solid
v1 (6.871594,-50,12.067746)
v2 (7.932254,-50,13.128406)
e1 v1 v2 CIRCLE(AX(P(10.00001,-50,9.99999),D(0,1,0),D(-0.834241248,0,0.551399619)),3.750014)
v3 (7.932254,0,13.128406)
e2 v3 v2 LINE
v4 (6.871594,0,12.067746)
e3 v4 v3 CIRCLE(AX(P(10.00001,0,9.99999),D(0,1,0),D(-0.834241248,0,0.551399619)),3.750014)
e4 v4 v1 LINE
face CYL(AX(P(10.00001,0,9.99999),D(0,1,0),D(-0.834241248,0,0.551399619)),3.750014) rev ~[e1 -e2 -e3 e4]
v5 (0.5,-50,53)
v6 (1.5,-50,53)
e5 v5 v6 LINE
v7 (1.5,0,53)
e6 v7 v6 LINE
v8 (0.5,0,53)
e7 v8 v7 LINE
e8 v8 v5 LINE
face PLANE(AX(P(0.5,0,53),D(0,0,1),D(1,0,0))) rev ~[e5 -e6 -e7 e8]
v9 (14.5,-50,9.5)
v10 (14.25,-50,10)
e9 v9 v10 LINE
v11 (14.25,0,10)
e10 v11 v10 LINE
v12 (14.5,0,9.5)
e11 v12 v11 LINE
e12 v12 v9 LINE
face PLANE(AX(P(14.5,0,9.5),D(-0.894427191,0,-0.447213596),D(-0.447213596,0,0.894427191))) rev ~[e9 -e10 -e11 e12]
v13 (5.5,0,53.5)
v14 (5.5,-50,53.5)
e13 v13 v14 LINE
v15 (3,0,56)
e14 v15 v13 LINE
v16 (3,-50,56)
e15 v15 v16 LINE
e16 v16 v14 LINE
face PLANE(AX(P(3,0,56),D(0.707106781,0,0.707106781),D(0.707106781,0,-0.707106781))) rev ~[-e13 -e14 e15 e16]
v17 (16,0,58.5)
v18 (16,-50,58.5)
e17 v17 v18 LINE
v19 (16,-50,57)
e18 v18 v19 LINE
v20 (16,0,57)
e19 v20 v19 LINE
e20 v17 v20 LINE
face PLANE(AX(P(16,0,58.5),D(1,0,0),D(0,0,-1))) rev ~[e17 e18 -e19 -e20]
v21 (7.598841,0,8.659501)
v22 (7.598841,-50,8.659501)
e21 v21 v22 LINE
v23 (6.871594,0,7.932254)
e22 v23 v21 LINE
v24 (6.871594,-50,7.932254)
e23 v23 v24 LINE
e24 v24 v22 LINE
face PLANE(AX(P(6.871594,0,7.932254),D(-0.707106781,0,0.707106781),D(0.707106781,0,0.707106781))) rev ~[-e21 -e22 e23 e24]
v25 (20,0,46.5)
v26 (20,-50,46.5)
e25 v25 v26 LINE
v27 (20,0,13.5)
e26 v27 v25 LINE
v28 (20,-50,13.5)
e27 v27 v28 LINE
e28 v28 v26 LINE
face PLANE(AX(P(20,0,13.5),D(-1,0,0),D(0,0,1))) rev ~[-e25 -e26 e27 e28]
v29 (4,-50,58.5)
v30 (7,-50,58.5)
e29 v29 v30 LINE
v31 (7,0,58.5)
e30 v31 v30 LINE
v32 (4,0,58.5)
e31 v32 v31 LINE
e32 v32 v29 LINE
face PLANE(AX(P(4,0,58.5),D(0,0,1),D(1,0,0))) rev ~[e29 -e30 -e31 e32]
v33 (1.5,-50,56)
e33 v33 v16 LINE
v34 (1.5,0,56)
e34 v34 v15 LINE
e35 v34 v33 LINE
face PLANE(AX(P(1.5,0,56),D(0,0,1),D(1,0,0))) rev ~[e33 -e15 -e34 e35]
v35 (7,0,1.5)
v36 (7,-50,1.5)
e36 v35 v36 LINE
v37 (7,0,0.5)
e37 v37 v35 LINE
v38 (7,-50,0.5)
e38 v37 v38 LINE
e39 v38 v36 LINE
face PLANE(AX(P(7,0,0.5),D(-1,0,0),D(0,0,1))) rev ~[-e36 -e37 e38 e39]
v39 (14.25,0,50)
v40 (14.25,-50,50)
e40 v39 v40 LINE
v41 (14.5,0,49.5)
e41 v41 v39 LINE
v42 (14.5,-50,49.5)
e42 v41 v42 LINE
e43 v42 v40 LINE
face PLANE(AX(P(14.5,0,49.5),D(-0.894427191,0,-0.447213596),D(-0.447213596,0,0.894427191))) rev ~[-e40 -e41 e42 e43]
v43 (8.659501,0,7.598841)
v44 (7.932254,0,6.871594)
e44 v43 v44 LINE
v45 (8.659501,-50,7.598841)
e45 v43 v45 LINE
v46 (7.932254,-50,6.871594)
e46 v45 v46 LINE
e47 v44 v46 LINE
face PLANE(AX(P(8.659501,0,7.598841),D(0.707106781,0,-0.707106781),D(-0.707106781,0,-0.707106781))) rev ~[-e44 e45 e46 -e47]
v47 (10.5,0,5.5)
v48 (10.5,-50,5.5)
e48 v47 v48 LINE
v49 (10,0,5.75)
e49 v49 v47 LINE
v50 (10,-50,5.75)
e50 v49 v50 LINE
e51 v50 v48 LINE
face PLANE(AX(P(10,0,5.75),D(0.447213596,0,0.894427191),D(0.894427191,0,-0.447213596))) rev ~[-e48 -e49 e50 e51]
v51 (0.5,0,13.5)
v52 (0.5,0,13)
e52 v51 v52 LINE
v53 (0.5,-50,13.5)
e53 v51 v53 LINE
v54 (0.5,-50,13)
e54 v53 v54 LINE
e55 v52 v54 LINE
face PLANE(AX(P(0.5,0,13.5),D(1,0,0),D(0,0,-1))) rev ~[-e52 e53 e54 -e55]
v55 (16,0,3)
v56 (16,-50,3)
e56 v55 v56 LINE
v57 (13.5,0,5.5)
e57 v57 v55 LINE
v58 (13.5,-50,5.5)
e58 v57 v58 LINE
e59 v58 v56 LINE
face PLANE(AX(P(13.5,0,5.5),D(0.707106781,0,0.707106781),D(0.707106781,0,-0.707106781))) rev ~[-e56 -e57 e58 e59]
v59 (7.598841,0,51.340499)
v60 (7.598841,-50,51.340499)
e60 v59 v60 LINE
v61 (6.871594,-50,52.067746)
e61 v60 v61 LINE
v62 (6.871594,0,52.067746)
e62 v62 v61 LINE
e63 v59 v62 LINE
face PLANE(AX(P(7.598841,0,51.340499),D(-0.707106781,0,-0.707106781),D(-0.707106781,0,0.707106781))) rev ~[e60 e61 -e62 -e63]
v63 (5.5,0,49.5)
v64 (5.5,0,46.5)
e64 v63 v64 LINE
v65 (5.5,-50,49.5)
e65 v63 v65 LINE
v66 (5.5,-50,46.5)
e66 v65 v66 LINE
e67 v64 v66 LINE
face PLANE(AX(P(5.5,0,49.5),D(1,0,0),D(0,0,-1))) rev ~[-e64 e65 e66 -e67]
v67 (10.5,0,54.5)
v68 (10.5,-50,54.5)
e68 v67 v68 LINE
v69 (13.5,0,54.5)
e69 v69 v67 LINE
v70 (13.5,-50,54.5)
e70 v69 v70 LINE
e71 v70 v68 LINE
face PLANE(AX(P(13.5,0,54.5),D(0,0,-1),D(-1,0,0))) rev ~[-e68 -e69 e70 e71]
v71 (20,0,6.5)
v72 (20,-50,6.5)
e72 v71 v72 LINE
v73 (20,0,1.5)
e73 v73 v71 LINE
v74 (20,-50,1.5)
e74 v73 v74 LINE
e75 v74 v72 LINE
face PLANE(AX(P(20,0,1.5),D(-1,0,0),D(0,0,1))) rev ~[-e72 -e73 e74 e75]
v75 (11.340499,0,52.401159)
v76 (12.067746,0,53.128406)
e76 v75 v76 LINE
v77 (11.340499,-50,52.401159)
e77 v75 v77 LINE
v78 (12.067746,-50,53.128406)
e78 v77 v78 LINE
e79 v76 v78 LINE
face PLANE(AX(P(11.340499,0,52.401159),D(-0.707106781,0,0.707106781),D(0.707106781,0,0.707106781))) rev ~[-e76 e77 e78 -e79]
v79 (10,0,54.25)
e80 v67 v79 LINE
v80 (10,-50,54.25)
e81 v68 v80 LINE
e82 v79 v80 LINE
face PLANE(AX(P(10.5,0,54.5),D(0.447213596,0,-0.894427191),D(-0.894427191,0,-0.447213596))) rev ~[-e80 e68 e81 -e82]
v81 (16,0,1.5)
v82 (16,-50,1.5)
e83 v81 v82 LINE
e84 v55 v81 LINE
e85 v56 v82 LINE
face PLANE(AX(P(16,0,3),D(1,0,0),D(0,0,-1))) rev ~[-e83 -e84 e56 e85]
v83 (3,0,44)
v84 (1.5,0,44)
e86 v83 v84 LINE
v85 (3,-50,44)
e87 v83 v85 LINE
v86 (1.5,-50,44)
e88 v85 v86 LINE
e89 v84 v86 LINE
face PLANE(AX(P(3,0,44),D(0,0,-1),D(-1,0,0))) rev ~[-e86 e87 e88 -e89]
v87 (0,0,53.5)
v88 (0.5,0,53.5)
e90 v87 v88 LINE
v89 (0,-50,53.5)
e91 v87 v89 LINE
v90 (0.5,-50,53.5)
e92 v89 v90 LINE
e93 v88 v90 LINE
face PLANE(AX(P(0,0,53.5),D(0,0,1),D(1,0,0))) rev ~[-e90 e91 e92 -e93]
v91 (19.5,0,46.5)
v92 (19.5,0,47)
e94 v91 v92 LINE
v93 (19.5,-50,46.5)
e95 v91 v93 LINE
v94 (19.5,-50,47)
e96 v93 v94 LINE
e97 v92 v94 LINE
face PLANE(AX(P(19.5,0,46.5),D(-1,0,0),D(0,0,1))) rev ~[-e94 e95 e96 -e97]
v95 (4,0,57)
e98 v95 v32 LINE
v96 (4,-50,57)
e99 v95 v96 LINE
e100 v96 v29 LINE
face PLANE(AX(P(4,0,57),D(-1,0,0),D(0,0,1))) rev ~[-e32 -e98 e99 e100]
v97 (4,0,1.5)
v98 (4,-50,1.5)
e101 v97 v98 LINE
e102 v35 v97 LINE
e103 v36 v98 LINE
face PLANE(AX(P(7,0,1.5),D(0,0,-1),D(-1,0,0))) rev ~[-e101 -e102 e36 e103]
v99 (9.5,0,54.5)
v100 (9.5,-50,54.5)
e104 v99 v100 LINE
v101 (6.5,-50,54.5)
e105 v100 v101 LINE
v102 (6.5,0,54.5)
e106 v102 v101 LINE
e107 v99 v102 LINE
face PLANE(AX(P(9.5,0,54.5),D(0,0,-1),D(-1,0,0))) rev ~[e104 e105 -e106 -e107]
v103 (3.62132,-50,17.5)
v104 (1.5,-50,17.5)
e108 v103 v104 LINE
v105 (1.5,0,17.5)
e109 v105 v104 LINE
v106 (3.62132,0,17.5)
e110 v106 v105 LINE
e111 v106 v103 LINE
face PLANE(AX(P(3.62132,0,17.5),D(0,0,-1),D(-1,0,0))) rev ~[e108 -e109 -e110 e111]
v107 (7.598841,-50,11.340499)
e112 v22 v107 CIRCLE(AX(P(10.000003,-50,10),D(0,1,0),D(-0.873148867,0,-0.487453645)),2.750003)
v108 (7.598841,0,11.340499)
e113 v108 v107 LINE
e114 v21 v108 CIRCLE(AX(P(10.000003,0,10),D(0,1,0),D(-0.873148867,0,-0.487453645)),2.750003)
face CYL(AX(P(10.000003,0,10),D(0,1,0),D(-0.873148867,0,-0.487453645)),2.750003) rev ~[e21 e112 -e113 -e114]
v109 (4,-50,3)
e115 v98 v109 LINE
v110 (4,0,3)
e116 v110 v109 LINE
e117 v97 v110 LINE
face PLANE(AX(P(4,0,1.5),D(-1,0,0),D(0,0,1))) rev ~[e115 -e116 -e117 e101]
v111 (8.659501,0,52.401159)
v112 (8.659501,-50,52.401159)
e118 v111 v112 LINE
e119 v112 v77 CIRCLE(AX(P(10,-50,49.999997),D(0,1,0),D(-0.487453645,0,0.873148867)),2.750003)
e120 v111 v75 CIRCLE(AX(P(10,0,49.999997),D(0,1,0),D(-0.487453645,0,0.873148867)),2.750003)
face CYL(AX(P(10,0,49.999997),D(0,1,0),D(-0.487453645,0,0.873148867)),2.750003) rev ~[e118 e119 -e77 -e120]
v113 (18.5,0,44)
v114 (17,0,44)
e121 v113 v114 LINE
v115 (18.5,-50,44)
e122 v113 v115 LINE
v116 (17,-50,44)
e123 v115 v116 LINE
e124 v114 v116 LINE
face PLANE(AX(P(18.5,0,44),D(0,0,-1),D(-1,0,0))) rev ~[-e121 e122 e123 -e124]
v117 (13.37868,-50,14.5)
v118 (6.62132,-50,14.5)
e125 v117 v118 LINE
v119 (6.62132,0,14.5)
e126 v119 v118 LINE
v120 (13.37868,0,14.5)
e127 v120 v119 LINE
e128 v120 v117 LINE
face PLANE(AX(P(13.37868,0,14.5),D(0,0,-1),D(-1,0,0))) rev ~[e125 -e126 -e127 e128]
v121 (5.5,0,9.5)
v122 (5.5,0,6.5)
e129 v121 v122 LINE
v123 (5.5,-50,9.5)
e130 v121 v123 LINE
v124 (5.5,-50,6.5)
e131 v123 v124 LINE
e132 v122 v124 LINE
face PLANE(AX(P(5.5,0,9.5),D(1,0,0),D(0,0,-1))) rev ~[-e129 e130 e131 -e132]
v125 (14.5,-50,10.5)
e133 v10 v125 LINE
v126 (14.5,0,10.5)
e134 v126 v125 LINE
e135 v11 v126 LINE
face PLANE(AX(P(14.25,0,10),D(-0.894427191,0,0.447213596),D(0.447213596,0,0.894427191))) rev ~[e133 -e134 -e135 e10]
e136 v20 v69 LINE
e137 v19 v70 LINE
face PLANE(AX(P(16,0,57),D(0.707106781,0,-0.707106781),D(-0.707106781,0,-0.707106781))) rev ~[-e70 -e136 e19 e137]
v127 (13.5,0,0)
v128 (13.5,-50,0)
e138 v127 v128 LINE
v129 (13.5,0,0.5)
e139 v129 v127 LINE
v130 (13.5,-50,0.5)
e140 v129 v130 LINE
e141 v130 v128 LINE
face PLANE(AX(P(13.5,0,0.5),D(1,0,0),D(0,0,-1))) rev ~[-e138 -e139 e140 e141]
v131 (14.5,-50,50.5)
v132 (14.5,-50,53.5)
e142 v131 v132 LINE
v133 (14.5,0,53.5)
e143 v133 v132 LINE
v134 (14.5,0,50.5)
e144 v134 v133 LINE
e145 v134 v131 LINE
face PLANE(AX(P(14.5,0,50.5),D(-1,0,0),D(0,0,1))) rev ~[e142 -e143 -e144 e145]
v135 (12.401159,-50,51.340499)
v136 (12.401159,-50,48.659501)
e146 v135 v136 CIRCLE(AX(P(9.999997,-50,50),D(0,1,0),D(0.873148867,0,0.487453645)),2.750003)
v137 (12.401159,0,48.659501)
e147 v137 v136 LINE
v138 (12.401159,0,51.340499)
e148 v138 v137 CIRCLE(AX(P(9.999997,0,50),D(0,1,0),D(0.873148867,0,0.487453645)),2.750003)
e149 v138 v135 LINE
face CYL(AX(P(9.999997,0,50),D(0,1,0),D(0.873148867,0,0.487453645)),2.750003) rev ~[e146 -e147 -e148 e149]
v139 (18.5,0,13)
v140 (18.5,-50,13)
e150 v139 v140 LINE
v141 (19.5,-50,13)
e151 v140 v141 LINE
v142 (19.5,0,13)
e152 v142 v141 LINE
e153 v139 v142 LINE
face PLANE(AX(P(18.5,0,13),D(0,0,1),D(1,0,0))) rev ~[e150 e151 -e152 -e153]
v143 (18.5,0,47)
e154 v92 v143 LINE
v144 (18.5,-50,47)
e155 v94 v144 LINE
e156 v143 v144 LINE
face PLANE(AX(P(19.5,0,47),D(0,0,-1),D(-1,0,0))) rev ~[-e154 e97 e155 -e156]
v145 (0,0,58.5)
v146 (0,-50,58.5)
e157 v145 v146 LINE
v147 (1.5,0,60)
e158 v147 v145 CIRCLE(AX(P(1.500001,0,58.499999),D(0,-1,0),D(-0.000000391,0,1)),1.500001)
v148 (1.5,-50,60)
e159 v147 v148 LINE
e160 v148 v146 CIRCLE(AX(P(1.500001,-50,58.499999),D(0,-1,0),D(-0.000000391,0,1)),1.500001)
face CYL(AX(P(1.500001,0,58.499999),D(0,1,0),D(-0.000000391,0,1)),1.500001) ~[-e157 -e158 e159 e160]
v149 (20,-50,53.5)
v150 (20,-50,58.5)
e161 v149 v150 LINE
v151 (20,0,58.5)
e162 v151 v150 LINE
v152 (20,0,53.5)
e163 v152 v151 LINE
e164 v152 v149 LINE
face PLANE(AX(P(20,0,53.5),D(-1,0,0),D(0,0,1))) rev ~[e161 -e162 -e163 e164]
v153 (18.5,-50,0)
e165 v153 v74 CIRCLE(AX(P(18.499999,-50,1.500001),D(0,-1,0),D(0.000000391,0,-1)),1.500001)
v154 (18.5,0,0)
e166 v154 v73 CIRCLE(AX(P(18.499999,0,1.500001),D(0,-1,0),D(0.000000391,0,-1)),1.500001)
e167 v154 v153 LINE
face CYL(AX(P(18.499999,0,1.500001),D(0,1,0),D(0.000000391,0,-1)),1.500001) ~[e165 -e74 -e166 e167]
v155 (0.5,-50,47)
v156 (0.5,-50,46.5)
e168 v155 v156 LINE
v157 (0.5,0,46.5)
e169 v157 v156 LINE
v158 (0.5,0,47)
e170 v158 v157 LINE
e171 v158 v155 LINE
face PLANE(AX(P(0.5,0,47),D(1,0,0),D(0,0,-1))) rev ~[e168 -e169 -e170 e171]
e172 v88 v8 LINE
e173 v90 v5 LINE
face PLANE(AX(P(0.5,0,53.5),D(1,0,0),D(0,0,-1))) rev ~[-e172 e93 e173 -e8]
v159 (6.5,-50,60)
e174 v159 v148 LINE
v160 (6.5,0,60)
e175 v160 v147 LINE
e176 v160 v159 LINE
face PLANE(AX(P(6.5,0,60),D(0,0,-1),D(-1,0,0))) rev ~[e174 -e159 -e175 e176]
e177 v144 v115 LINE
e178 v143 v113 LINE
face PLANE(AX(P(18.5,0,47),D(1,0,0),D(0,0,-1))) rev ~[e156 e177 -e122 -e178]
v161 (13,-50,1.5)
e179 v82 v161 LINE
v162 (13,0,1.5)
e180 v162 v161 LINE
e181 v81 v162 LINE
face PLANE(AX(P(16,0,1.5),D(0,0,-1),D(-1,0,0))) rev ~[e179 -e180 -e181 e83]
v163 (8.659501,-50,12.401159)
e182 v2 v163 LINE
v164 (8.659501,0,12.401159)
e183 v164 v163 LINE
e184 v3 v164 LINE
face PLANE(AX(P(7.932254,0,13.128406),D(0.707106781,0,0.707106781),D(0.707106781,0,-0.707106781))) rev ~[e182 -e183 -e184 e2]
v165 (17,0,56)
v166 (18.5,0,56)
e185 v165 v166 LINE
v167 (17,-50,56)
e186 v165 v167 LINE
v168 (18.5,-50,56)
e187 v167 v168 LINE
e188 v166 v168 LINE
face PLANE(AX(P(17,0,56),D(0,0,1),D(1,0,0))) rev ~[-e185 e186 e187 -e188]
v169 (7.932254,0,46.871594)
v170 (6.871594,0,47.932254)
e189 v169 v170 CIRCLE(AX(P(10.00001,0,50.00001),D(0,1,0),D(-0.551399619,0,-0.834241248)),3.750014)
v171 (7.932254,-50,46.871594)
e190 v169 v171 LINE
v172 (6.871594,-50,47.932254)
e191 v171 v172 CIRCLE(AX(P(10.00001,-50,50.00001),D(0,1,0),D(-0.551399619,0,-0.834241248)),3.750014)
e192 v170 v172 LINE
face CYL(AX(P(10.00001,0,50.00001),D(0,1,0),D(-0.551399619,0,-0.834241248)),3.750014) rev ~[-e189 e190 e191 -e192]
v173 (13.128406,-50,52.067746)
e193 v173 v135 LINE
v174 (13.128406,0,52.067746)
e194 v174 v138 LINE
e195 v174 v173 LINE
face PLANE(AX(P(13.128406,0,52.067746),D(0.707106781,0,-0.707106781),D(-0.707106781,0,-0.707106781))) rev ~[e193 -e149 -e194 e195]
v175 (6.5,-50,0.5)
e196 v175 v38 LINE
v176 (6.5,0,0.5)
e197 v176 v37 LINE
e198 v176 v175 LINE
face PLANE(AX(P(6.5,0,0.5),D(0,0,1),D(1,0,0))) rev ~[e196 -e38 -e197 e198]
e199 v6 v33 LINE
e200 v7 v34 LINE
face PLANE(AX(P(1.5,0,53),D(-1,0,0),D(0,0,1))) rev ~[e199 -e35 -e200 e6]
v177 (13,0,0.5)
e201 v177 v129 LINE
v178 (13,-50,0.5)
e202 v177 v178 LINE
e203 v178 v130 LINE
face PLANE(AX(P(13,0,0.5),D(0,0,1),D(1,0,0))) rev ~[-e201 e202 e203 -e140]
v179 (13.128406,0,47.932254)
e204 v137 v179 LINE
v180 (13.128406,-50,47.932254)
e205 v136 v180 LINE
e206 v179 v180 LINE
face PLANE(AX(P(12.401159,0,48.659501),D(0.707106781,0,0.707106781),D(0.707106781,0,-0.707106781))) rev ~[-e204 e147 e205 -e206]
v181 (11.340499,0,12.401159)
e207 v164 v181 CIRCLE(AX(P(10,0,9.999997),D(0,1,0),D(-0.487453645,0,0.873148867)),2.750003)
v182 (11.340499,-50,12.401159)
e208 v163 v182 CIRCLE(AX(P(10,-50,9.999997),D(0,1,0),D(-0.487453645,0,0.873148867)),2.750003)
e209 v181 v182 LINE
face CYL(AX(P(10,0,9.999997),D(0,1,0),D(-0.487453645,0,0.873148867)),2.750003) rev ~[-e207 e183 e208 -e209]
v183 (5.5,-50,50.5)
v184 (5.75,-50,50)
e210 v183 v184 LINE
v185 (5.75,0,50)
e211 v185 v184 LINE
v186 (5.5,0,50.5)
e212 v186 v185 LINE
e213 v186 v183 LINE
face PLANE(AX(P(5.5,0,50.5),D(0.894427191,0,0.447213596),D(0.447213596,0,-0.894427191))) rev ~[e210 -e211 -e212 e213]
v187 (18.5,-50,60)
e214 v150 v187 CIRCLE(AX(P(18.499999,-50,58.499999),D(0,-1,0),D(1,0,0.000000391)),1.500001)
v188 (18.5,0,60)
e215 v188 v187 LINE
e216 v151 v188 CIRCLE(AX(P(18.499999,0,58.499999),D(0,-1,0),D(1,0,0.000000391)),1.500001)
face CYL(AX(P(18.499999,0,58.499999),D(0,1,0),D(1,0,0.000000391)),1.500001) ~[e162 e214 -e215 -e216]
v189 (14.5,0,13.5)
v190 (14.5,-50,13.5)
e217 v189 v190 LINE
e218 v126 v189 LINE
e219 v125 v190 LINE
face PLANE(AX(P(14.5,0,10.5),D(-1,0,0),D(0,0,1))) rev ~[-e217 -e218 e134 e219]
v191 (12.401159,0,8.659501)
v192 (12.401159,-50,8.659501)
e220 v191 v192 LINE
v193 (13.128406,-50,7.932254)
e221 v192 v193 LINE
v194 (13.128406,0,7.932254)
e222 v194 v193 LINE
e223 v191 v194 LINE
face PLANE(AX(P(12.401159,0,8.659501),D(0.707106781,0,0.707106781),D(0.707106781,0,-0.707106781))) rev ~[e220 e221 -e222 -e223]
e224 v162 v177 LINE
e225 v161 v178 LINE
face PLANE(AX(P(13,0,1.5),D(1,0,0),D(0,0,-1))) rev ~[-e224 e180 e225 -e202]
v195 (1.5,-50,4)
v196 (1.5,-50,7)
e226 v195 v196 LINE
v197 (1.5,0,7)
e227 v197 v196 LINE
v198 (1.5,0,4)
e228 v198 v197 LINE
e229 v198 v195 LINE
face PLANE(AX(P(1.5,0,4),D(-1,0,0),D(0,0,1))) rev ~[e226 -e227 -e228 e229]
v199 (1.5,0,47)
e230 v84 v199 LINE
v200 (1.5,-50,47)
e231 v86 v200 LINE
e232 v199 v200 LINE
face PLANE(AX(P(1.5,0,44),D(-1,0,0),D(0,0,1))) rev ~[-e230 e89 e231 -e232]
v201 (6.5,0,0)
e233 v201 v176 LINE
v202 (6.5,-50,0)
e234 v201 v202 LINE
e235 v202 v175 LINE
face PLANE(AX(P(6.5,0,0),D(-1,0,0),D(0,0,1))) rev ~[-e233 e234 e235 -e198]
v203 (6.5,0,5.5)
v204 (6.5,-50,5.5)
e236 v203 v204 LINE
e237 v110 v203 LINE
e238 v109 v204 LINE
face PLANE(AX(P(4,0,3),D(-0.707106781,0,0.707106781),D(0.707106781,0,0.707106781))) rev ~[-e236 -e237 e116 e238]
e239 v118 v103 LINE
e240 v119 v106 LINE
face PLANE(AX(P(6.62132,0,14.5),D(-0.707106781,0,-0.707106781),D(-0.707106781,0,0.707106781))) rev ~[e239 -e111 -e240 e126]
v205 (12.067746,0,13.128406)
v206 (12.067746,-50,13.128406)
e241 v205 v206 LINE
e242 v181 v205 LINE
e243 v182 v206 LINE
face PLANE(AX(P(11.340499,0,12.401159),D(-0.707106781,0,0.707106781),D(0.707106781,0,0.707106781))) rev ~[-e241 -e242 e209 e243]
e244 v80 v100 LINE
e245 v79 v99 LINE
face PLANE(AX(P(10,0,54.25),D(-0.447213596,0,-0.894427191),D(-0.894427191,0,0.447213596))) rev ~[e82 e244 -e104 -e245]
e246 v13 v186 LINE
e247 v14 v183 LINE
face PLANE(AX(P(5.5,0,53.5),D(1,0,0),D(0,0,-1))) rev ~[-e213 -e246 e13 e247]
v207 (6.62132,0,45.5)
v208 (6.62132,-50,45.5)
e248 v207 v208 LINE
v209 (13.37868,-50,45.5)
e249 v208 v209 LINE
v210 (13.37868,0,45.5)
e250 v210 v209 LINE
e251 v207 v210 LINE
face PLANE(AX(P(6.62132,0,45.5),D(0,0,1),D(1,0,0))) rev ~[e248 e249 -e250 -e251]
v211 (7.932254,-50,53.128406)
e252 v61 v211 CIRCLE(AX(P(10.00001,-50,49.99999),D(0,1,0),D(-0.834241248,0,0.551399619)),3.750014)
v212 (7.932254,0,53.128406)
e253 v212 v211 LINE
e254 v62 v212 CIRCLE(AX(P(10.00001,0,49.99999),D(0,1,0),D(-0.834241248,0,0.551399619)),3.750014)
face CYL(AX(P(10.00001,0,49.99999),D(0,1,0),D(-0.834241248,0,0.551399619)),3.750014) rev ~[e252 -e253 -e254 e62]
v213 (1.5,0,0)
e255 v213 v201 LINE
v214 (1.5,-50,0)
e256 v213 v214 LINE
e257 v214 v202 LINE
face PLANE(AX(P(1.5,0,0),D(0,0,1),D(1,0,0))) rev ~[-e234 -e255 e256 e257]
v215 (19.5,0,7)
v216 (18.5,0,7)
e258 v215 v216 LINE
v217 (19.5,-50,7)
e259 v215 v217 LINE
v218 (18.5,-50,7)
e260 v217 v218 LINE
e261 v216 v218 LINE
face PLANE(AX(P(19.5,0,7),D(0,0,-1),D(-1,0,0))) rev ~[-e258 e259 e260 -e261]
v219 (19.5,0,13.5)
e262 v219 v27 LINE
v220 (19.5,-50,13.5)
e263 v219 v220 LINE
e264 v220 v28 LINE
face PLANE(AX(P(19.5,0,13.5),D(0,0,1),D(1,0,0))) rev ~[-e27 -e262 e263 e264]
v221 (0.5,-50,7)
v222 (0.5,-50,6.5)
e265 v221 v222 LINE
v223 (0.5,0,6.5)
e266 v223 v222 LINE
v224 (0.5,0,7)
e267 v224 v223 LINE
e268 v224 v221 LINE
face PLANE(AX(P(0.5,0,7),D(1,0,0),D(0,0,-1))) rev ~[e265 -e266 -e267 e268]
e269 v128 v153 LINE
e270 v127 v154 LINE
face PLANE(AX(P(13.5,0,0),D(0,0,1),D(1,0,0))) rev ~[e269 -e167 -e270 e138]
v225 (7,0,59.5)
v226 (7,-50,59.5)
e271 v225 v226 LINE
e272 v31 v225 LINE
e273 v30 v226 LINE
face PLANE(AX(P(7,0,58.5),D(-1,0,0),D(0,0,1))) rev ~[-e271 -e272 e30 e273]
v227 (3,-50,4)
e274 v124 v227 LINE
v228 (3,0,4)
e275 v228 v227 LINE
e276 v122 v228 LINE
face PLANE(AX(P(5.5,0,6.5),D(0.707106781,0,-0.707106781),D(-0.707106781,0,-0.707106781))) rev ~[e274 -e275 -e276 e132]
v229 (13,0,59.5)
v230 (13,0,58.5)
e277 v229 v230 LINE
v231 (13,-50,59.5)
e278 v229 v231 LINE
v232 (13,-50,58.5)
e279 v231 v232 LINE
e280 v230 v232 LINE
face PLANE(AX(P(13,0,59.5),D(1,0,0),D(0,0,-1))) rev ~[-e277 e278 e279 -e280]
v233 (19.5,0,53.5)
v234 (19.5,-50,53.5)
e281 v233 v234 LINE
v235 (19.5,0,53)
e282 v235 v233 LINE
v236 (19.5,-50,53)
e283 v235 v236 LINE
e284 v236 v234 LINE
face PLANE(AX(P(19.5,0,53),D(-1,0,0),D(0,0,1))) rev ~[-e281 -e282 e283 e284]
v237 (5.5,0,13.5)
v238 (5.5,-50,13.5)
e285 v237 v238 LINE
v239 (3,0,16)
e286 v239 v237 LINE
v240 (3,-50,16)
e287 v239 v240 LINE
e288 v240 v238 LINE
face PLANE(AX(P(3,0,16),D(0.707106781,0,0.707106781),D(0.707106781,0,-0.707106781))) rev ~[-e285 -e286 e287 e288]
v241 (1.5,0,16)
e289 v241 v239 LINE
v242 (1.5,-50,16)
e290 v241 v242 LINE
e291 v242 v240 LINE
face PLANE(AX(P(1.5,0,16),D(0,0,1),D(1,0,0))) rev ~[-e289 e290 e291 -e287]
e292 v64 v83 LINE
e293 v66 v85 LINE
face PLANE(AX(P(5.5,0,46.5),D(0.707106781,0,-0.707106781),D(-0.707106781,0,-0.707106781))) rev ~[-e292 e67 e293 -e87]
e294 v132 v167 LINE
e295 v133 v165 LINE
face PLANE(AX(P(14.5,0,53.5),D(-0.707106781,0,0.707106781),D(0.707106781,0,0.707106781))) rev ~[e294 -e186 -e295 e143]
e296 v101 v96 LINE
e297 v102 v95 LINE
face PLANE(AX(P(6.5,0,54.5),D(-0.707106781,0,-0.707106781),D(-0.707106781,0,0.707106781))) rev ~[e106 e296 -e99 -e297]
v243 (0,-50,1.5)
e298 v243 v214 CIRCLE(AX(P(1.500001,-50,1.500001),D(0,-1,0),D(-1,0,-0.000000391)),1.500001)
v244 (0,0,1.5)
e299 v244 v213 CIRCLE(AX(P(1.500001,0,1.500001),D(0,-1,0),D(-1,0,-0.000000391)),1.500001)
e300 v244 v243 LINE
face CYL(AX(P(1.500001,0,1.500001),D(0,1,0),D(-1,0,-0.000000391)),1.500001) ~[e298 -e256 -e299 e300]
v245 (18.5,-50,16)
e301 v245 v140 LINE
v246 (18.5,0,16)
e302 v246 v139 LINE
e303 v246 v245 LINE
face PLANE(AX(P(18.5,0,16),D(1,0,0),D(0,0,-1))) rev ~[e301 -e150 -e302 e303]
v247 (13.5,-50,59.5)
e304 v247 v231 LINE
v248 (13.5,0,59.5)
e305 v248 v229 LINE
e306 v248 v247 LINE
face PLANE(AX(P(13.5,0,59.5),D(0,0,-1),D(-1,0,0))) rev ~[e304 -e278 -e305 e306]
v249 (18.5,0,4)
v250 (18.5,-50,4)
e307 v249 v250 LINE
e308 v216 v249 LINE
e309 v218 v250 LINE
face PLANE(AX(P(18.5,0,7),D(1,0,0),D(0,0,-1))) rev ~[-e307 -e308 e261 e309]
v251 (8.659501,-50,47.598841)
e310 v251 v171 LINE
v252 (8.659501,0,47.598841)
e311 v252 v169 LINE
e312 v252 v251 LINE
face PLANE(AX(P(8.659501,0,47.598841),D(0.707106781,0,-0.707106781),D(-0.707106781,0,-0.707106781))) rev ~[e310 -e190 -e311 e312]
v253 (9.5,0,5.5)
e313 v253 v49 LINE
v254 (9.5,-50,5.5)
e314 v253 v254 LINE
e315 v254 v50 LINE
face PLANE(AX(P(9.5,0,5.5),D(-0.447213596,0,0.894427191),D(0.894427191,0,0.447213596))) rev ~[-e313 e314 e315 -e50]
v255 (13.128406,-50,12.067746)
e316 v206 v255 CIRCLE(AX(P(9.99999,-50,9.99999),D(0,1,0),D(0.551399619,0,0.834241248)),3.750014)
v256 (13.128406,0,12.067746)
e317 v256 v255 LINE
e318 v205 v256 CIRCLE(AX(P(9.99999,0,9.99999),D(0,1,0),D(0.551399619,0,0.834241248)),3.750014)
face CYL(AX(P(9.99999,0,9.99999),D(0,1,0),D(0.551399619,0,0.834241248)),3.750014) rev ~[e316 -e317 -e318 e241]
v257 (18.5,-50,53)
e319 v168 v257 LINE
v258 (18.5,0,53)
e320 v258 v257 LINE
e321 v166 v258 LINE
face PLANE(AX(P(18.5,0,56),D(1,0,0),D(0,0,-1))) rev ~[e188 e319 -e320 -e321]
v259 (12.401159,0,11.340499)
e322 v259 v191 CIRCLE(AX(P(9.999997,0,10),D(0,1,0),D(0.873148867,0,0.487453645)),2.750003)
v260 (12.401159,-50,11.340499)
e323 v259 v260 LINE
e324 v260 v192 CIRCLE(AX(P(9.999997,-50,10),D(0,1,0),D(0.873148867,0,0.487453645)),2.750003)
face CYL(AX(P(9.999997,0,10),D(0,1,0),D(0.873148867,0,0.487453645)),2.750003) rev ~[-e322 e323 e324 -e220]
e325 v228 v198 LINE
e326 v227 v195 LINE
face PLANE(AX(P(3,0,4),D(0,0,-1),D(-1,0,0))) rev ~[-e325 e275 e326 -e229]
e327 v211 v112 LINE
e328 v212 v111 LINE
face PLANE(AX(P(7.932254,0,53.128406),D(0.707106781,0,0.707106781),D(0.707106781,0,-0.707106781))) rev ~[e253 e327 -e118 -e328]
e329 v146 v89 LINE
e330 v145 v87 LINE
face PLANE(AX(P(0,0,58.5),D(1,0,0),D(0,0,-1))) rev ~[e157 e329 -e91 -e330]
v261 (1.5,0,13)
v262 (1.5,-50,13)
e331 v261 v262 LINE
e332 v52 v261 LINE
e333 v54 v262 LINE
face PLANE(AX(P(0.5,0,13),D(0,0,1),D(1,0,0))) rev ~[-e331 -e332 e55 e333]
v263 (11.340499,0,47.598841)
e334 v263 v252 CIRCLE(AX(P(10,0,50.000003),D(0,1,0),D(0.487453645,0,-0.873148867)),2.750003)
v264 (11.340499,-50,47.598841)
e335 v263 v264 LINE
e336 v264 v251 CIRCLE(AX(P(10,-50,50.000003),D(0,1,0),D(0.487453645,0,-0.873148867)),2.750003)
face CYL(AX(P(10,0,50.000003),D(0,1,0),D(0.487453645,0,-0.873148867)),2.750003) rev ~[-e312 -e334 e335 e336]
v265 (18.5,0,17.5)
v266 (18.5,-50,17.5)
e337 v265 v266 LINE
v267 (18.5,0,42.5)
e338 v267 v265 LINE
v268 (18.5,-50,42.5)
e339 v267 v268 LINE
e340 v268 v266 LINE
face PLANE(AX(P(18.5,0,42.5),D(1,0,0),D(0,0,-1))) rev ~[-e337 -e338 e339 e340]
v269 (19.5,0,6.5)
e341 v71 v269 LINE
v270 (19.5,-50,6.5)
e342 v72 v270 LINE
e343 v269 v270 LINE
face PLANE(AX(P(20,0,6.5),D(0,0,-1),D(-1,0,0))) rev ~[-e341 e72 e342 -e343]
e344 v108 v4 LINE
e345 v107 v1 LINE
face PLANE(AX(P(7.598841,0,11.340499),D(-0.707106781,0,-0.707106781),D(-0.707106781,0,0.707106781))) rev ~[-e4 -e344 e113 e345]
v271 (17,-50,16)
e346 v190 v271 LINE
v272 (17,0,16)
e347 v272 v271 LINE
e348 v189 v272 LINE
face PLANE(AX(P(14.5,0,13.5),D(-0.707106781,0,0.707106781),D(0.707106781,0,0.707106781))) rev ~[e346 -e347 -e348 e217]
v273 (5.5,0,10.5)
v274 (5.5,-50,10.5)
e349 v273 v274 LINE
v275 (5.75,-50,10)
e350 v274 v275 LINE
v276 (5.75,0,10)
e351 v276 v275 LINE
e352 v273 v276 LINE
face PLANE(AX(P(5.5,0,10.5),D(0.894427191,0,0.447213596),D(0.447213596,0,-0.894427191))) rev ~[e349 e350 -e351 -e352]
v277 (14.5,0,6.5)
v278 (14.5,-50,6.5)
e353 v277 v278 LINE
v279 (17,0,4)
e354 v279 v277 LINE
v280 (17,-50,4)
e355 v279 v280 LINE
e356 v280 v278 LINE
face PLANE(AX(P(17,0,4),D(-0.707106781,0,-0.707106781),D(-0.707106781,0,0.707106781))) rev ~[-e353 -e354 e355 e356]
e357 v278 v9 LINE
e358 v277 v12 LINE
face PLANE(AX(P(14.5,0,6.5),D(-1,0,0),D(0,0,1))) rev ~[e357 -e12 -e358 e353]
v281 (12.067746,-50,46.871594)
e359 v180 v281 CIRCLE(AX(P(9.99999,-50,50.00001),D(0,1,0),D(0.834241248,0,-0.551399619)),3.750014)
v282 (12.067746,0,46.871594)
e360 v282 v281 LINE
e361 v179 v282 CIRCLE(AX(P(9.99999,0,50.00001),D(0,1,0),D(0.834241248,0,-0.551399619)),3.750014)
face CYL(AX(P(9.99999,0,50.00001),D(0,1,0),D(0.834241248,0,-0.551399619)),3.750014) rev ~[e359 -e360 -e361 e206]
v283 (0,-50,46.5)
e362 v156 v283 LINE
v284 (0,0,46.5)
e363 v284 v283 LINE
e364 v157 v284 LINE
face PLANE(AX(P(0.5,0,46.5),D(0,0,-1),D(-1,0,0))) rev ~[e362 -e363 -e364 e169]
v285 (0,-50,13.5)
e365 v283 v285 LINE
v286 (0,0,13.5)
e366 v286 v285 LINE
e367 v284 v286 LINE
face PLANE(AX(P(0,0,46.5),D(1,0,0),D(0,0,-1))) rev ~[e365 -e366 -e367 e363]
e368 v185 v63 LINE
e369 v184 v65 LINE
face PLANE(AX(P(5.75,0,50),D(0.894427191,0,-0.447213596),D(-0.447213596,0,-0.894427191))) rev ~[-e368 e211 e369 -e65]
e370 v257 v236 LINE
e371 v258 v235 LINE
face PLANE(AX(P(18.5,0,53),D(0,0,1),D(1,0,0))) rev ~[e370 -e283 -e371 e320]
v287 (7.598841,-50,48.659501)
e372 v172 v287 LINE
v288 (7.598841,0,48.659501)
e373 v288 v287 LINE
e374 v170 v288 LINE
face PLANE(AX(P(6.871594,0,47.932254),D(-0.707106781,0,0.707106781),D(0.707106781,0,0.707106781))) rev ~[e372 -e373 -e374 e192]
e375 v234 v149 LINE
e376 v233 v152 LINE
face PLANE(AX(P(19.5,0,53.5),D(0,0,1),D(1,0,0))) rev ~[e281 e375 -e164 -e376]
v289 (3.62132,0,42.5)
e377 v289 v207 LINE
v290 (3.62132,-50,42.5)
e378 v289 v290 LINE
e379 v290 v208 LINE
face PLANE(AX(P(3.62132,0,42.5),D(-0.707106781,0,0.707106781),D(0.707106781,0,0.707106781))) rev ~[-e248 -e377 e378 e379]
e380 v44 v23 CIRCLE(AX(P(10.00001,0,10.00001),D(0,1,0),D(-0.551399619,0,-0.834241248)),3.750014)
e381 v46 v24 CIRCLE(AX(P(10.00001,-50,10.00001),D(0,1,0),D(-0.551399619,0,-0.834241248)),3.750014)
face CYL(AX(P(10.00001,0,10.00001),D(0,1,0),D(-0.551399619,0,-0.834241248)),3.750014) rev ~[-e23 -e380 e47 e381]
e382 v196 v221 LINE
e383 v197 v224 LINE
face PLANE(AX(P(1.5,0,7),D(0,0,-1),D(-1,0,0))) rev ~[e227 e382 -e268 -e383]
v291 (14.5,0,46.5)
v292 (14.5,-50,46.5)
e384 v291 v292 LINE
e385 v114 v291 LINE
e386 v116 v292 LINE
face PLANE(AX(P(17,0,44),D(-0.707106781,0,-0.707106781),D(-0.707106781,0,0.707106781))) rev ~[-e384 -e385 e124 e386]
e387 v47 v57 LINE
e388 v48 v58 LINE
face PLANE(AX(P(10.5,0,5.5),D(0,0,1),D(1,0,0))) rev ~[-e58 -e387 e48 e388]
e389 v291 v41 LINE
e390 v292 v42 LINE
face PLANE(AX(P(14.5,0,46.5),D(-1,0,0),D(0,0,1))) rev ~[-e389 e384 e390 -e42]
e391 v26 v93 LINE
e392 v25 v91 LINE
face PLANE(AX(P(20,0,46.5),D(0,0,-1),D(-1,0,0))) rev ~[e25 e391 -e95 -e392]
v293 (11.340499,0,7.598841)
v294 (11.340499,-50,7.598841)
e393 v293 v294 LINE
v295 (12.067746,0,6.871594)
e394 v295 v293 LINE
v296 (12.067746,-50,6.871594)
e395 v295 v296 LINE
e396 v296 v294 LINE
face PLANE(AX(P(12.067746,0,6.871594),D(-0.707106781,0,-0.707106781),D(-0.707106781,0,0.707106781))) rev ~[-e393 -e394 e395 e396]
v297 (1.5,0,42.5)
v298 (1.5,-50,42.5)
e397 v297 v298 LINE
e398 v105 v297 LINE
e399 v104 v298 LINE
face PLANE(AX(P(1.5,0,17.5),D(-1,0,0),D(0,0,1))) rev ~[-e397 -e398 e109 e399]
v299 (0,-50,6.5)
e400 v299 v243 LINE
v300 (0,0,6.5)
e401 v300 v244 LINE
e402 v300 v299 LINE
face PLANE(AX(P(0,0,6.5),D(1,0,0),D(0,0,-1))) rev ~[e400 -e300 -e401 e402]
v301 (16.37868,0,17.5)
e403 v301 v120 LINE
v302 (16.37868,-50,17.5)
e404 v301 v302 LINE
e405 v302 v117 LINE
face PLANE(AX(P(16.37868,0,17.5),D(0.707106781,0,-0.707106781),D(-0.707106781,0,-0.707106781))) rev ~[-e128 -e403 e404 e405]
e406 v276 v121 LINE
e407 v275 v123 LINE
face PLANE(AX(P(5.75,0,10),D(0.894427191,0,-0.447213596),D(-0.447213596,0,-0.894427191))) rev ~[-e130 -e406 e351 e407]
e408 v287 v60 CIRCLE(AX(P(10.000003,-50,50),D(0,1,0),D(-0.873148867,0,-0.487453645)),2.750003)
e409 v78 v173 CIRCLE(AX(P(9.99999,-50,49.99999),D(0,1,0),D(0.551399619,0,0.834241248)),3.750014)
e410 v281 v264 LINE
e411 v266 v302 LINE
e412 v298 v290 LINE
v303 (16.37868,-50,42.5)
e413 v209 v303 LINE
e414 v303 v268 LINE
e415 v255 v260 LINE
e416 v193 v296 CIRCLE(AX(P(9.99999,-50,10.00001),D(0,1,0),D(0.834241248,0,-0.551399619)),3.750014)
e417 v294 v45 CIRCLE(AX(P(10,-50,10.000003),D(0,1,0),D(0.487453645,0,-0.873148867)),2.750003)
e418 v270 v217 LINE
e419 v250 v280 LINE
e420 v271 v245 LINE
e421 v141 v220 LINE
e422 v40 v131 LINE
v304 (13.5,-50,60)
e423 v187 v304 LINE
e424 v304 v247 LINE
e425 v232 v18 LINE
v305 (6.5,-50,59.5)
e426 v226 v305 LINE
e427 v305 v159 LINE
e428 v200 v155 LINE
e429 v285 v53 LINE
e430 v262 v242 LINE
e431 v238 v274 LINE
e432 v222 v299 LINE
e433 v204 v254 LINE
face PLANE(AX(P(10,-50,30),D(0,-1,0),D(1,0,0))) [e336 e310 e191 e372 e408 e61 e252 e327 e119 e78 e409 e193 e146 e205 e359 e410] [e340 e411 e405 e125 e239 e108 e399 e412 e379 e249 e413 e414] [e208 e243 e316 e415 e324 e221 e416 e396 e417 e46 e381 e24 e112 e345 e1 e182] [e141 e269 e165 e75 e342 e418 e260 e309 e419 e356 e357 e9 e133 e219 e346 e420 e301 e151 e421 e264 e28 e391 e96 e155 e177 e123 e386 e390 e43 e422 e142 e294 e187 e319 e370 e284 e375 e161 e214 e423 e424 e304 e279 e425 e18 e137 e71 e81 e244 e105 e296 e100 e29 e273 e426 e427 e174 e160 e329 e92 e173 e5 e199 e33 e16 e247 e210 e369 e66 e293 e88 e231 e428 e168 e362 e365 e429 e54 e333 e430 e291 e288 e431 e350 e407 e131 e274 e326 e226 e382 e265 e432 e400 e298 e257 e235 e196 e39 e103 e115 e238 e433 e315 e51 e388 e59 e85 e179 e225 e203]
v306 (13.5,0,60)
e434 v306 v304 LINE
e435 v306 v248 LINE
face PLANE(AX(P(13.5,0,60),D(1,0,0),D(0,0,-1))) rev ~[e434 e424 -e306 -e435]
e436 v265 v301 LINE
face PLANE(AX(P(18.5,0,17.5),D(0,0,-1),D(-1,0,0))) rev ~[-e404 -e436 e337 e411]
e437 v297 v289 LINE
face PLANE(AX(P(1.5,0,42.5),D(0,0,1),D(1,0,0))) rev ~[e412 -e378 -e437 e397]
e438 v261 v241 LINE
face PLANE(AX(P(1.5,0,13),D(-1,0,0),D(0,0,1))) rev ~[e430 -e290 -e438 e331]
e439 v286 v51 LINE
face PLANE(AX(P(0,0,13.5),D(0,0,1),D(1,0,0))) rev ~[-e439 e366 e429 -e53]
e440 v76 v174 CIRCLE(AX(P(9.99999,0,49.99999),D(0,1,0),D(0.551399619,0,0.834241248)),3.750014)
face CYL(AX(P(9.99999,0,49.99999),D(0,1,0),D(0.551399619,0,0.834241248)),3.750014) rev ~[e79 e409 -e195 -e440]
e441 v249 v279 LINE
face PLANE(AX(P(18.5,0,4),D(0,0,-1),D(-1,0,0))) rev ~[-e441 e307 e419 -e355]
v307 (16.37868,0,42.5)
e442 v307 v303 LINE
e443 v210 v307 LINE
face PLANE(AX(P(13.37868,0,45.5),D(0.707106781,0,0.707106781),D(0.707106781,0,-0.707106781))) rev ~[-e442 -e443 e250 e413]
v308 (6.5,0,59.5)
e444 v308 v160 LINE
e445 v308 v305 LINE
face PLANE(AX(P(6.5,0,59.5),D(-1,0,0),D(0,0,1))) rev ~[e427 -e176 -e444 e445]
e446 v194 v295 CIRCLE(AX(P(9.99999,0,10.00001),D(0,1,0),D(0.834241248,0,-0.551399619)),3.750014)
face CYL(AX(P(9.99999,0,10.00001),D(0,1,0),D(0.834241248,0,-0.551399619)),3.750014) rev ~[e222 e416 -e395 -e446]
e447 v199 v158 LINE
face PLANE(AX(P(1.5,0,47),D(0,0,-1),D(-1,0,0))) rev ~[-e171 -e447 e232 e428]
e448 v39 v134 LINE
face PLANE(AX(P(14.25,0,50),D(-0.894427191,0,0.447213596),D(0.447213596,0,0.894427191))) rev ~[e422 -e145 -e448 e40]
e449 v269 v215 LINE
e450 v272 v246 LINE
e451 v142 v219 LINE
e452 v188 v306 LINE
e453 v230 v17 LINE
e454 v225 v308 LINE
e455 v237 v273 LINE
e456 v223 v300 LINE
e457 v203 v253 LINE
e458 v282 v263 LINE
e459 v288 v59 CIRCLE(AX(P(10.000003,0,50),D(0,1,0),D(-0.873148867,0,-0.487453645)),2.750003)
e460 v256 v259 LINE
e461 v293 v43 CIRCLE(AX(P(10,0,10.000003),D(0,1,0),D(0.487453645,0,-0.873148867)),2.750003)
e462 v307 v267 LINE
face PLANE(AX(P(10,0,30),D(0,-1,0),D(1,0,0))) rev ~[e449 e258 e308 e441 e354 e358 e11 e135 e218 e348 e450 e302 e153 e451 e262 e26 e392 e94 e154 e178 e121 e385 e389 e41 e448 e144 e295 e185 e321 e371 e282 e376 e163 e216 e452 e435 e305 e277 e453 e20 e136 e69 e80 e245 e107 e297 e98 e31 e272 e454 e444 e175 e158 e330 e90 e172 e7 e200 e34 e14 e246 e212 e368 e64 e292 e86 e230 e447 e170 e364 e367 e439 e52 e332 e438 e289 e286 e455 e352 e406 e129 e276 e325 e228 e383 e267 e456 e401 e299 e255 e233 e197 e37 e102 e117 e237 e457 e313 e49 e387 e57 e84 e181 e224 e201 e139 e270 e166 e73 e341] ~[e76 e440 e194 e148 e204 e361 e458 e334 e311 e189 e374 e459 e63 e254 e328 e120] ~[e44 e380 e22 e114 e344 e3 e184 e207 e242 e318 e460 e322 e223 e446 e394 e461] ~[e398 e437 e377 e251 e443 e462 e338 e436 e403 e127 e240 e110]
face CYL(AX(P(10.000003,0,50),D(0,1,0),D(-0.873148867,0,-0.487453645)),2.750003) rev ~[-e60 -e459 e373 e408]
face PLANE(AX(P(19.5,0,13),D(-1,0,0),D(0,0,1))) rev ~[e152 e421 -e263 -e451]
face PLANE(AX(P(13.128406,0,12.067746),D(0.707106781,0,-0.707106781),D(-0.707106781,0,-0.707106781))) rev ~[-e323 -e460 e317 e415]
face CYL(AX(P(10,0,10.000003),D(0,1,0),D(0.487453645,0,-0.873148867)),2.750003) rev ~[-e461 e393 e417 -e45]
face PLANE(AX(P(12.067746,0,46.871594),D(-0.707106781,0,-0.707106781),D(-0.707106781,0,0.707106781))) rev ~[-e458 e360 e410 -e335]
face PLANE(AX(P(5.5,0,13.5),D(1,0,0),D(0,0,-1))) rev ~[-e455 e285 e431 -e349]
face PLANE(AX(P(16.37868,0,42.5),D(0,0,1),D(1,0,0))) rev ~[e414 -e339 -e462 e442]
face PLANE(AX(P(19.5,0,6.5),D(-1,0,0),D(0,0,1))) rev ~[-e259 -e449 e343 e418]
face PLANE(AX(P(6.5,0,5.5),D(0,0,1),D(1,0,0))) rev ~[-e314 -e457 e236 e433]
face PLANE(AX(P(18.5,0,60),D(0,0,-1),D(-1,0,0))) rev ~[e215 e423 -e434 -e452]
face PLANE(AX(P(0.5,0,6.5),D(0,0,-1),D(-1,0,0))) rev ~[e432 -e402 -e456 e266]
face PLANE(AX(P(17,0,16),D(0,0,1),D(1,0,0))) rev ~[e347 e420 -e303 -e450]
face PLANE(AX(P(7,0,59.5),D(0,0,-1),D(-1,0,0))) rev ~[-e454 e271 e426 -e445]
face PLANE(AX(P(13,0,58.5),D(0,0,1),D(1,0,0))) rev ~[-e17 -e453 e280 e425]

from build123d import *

# Parameters (mm, degrees)
F1_DEPTH = 50


with BuildPart() as f1:
    # F0 (on Front) → F1 (new body)
    with BuildSketch(Plane.XZ):
        with BuildLine():
            ThreePointArc((0, 1.5), (0.43934, 0.43934), (1.5, 0))
            Line((1.5, 0), (6.5, 0))
            Line((6.5, 0), (6.5, 0.5))
            Line((6.5, 0.5), (7, 0.5))
            Line((7, 0.5), (7, 1.5))
            Line((7, 1.5), (4, 1.5))
            Line((4, 1.5), (4, 3))
            Line((4, 3), (6.5, 5.5))
            Line((6.5, 5.5), (9.5, 5.5))
            Line((9.5, 5.5), (10, 5.75))
            Line((10, 5.75), (10.5, 5.5))
            Line((10.5, 5.5), (13.5, 5.5))
            Line((13.5, 5.5), (16, 3))
            Line((16, 3), (16, 1.5))
            Line((16, 1.5), (13, 1.5))
            Line((13, 1.5), (13, 0.5))
            Line((13, 0.5), (13.5, 0.5))
            Line((13.5, 0.5), (13.5, 0))
            Line((13.5, 0), (18.5, 0))
            ThreePointArc((18.5, 0), (19.56066, 0.43934), (20, 1.5))
            Line((20, 1.5), (20, 6.5))
            Line((20, 6.5), (19.5, 6.5))
            Line((19.5, 6.5), (19.5, 7))
            Line((19.5, 7), (18.5, 7))
            Line((18.5, 7), (18.5, 4))
            Line((18.5, 4), (17, 4))
            Line((17, 4), (14.5, 6.5))
            Line((14.5, 6.5), (14.5, 9.5))
            Line((14.5, 9.5), (14.25, 10))
            Line((14.25, 10), (14.5, 10.5))
            Line((14.5, 10.5), (14.5, 13.5))
            Line((14.5, 13.5), (17, 16))
            Line((17, 16), (18.5, 16))
            Line((18.5, 16), (18.5, 13))
            Line((18.5, 13), (19.5, 13))
            Line((19.5, 13), (19.5, 13.5))
            Line((19.5, 13.5), (20, 13.5))
            Line((20, 13.5), (20, 46.5))
            Line((20, 46.5), (19.5, 46.5))
            Line((19.5, 46.5), (19.5, 47))
            Line((19.5, 47), (18.5, 47))
            Line((18.5, 47), (18.5, 44))
            Line((18.5, 44), (17, 44))
            Line((17, 44), (14.5, 46.5))
            Line((14.5, 46.5), (14.5, 49.5))
            Line((14.5, 49.5), (14.25, 50))
            Line((14.25, 50), (14.5, 50.5))
            Line((14.5, 50.5), (14.5, 53.5))
            Line((14.5, 53.5), (17, 56))
            Line((17, 56), (18.5, 56))
            Line((18.5, 56), (18.5, 53))
            Line((18.5, 53), (19.5, 53))
            Line((19.5, 53), (19.5, 53.5))
            Line((19.5, 53.5), (20, 53.5))
            Line((20, 53.5), (20, 58.5))
            ThreePointArc((20, 58.5), (19.56066, 59.56066), (18.5, 60))
            Line((18.5, 60), (13.5, 60))
            Line((13.5, 60), (13.5, 59.5))
            Line((13.5, 59.5), (13, 59.5))
            Line((13, 59.5), (13, 58.5))
            Line((13, 58.5), (16, 58.5))
            Line((16, 58.5), (16, 57))
            Line((16, 57), (13.5, 54.5))
            Line((13.5, 54.5), (10.5, 54.5))
            Line((10.5, 54.5), (10, 54.25))
            Line((10, 54.25), (9.5, 54.5))
            Line((9.5, 54.5), (6.5, 54.5))
            Line((6.5, 54.5), (4, 57))
            Line((4, 57), (4, 58.5))
            Line((4, 58.5), (7, 58.5))
            Line((7, 58.5), (7, 59.5))
            Line((7, 59.5), (6.5, 59.5))
            Line((6.5, 59.5), (6.5, 60))
            Line((6.5, 60), (1.5, 60))
            ThreePointArc((1.5, 60), (0.43934, 59.56066), (0, 58.5))
            Line((0, 58.5), (0, 53.5))
            Line((0, 53.5), (0.5, 53.5))
            Line((0.5, 53.5), (0.5, 53))
            Line((0.5, 53), (1.5, 53))
            Line((1.5, 53), (1.5, 56))
            Line((1.5, 56), (3, 56))
            Line((3, 56), (5.5, 53.5))
            Line((5.5, 53.5), (5.5, 50.5))
            Line((5.5, 50.5), (5.75, 50))
            Line((5.75, 50), (5.5, 49.5))
            Line((5.5, 49.5), (5.5, 46.5))
            Line((5.5, 46.5), (3, 44))
            Line((3, 44), (1.5, 44))
            Line((1.5, 44), (1.5, 47))
            Line((1.5, 47), (0.5, 47))
            Line((0.5, 47), (0.5, 46.5))
            Line((0.5, 46.5), (0, 46.5))
            Line((0, 46.5), (0, 13.5))
            Line((0, 13.5), (0.5, 13.5))
            Line((0.5, 13.5), (0.5, 13))
            Line((0.5, 13), (1.5, 13))
            Line((1.5, 13), (1.5, 16))
            Line((1.5, 16), (3, 16))
            Line((3, 16), (5.5, 13.5))
            Line((5.5, 13.5), (5.5, 10.5))
            Line((5.5, 10.5), (5.75, 10))
            Line((5.75, 10), (5.5, 9.5))
            Line((5.5, 9.5), (5.5, 6.5))
            Line((5.5, 6.5), (3, 4))
            Line((3, 4), (1.5, 4))
            Line((1.5, 4), (1.5, 7))
            Line((1.5, 7), (0.5, 7))
            Line((0.5, 7), (0.5, 6.5))
            Line((0.5, 6.5), (0, 6.5))
            Line((0, 6.5), (0, 1.5))
        make_face()
        with BuildLine():
            Line((8.659501, 7.598841), (7.932254, 6.871594))
            ThreePointArc((7.932254, 6.871594), (7.34835, 7.34835), (6.871594, 7.932254))
            Line((6.871594, 7.932254), (7.598841, 8.659501))
            ThreePointArc((7.598841, 8.659501), (7.25, 10), (7.598841, 11.340499))
            Line((7.598841, 11.340499), (6.871594, 12.067746))
            ThreePointArc((6.871594, 12.067746), (7.34835, 12.65165), (7.932254, 13.128406))
            Line((7.932254, 13.128406), (8.659501, 12.401159))
            ThreePointArc((8.659501, 12.401159), (10, 12.75), (11.340499, 12.401159))
            Line((11.340499, 12.401159), (12.067746, 13.128406))
            ThreePointArc((12.067746, 13.128406), (12.65165, 12.65165), (13.128406, 12.067746))
            Line((13.128406, 12.067746), (12.401159, 11.340499))
            ThreePointArc((12.401159, 11.340499), (12.75, 10), (12.401159, 8.659501))
            Line((12.401159, 8.659501), (13.128406, 7.932254))
            ThreePointArc((13.128406, 7.932254), (12.65165, 7.34835), (12.067746, 6.871594))
            Line((12.067746, 6.871594), (11.340499, 7.598841))
            ThreePointArc((11.340499, 7.598841), (10, 7.25), (8.659501, 7.598841))
        make_face(mode=Mode.SUBTRACT)
        Polygon((1.5, 42.5), (3.62132, 42.5), (6.62132, 45.5), (10, 45.5), (13.37868, 45.5), (16.37868, 42.5), (18.5, 42.5), (18.5, 30), (18.5, 17.5), (16.37868, 17.5), (13.37868, 14.5), (10, 14.5), (6.62132, 14.5), (3.62132, 17.5), (1.5, 17.5), (1.5, 30), align=None, mode=Mode.SUBTRACT)
        with BuildLine():
            ThreePointArc((8.659501, 52.401159), (10, 52.75), (11.340499, 52.401159))
            Line((11.340499, 52.401159), (12.067746, 53.128406))
            ThreePointArc((12.067746, 53.128406), (12.65165, 52.65165), (13.128406, 52.067746))
            Line((13.128406, 52.067746), (12.401159, 51.340499))
            ThreePointArc((12.401159, 51.340499), (12.75, 50), (12.401159, 48.659501))
            Line((12.401159, 48.659501), (13.128406, 47.932254))
            ThreePointArc((13.128406, 47.932254), (12.65165, 47.34835), (12.067746, 46.871594))
            Line((12.067746, 46.871594), (11.340499, 47.598841))
            ThreePointArc((11.340499, 47.598841), (10, 47.25), (8.659501, 47.598841))
            Line((8.659501, 47.598841), (7.932254, 46.871594))
            ThreePointArc((7.932254, 46.871594), (7.34835, 47.34835), (6.871594, 47.932254))
            Line((6.871594, 47.932254), (7.598841, 48.659501))
            ThreePointArc((7.598841, 48.659501), (7.25, 50), (7.598841, 51.340499))
            Line((7.598841, 51.340499), (6.871594, 52.067746))
            ThreePointArc((6.871594, 52.067746), (7.34835, 52.65165), (7.932254, 53.128406))
            Line((7.932254, 53.128406), (8.659501, 52.401159))
        make_face(mode=Mode.SUBTRACT)
    extrude(amount=F1_DEPTH)


solid = f1.part
